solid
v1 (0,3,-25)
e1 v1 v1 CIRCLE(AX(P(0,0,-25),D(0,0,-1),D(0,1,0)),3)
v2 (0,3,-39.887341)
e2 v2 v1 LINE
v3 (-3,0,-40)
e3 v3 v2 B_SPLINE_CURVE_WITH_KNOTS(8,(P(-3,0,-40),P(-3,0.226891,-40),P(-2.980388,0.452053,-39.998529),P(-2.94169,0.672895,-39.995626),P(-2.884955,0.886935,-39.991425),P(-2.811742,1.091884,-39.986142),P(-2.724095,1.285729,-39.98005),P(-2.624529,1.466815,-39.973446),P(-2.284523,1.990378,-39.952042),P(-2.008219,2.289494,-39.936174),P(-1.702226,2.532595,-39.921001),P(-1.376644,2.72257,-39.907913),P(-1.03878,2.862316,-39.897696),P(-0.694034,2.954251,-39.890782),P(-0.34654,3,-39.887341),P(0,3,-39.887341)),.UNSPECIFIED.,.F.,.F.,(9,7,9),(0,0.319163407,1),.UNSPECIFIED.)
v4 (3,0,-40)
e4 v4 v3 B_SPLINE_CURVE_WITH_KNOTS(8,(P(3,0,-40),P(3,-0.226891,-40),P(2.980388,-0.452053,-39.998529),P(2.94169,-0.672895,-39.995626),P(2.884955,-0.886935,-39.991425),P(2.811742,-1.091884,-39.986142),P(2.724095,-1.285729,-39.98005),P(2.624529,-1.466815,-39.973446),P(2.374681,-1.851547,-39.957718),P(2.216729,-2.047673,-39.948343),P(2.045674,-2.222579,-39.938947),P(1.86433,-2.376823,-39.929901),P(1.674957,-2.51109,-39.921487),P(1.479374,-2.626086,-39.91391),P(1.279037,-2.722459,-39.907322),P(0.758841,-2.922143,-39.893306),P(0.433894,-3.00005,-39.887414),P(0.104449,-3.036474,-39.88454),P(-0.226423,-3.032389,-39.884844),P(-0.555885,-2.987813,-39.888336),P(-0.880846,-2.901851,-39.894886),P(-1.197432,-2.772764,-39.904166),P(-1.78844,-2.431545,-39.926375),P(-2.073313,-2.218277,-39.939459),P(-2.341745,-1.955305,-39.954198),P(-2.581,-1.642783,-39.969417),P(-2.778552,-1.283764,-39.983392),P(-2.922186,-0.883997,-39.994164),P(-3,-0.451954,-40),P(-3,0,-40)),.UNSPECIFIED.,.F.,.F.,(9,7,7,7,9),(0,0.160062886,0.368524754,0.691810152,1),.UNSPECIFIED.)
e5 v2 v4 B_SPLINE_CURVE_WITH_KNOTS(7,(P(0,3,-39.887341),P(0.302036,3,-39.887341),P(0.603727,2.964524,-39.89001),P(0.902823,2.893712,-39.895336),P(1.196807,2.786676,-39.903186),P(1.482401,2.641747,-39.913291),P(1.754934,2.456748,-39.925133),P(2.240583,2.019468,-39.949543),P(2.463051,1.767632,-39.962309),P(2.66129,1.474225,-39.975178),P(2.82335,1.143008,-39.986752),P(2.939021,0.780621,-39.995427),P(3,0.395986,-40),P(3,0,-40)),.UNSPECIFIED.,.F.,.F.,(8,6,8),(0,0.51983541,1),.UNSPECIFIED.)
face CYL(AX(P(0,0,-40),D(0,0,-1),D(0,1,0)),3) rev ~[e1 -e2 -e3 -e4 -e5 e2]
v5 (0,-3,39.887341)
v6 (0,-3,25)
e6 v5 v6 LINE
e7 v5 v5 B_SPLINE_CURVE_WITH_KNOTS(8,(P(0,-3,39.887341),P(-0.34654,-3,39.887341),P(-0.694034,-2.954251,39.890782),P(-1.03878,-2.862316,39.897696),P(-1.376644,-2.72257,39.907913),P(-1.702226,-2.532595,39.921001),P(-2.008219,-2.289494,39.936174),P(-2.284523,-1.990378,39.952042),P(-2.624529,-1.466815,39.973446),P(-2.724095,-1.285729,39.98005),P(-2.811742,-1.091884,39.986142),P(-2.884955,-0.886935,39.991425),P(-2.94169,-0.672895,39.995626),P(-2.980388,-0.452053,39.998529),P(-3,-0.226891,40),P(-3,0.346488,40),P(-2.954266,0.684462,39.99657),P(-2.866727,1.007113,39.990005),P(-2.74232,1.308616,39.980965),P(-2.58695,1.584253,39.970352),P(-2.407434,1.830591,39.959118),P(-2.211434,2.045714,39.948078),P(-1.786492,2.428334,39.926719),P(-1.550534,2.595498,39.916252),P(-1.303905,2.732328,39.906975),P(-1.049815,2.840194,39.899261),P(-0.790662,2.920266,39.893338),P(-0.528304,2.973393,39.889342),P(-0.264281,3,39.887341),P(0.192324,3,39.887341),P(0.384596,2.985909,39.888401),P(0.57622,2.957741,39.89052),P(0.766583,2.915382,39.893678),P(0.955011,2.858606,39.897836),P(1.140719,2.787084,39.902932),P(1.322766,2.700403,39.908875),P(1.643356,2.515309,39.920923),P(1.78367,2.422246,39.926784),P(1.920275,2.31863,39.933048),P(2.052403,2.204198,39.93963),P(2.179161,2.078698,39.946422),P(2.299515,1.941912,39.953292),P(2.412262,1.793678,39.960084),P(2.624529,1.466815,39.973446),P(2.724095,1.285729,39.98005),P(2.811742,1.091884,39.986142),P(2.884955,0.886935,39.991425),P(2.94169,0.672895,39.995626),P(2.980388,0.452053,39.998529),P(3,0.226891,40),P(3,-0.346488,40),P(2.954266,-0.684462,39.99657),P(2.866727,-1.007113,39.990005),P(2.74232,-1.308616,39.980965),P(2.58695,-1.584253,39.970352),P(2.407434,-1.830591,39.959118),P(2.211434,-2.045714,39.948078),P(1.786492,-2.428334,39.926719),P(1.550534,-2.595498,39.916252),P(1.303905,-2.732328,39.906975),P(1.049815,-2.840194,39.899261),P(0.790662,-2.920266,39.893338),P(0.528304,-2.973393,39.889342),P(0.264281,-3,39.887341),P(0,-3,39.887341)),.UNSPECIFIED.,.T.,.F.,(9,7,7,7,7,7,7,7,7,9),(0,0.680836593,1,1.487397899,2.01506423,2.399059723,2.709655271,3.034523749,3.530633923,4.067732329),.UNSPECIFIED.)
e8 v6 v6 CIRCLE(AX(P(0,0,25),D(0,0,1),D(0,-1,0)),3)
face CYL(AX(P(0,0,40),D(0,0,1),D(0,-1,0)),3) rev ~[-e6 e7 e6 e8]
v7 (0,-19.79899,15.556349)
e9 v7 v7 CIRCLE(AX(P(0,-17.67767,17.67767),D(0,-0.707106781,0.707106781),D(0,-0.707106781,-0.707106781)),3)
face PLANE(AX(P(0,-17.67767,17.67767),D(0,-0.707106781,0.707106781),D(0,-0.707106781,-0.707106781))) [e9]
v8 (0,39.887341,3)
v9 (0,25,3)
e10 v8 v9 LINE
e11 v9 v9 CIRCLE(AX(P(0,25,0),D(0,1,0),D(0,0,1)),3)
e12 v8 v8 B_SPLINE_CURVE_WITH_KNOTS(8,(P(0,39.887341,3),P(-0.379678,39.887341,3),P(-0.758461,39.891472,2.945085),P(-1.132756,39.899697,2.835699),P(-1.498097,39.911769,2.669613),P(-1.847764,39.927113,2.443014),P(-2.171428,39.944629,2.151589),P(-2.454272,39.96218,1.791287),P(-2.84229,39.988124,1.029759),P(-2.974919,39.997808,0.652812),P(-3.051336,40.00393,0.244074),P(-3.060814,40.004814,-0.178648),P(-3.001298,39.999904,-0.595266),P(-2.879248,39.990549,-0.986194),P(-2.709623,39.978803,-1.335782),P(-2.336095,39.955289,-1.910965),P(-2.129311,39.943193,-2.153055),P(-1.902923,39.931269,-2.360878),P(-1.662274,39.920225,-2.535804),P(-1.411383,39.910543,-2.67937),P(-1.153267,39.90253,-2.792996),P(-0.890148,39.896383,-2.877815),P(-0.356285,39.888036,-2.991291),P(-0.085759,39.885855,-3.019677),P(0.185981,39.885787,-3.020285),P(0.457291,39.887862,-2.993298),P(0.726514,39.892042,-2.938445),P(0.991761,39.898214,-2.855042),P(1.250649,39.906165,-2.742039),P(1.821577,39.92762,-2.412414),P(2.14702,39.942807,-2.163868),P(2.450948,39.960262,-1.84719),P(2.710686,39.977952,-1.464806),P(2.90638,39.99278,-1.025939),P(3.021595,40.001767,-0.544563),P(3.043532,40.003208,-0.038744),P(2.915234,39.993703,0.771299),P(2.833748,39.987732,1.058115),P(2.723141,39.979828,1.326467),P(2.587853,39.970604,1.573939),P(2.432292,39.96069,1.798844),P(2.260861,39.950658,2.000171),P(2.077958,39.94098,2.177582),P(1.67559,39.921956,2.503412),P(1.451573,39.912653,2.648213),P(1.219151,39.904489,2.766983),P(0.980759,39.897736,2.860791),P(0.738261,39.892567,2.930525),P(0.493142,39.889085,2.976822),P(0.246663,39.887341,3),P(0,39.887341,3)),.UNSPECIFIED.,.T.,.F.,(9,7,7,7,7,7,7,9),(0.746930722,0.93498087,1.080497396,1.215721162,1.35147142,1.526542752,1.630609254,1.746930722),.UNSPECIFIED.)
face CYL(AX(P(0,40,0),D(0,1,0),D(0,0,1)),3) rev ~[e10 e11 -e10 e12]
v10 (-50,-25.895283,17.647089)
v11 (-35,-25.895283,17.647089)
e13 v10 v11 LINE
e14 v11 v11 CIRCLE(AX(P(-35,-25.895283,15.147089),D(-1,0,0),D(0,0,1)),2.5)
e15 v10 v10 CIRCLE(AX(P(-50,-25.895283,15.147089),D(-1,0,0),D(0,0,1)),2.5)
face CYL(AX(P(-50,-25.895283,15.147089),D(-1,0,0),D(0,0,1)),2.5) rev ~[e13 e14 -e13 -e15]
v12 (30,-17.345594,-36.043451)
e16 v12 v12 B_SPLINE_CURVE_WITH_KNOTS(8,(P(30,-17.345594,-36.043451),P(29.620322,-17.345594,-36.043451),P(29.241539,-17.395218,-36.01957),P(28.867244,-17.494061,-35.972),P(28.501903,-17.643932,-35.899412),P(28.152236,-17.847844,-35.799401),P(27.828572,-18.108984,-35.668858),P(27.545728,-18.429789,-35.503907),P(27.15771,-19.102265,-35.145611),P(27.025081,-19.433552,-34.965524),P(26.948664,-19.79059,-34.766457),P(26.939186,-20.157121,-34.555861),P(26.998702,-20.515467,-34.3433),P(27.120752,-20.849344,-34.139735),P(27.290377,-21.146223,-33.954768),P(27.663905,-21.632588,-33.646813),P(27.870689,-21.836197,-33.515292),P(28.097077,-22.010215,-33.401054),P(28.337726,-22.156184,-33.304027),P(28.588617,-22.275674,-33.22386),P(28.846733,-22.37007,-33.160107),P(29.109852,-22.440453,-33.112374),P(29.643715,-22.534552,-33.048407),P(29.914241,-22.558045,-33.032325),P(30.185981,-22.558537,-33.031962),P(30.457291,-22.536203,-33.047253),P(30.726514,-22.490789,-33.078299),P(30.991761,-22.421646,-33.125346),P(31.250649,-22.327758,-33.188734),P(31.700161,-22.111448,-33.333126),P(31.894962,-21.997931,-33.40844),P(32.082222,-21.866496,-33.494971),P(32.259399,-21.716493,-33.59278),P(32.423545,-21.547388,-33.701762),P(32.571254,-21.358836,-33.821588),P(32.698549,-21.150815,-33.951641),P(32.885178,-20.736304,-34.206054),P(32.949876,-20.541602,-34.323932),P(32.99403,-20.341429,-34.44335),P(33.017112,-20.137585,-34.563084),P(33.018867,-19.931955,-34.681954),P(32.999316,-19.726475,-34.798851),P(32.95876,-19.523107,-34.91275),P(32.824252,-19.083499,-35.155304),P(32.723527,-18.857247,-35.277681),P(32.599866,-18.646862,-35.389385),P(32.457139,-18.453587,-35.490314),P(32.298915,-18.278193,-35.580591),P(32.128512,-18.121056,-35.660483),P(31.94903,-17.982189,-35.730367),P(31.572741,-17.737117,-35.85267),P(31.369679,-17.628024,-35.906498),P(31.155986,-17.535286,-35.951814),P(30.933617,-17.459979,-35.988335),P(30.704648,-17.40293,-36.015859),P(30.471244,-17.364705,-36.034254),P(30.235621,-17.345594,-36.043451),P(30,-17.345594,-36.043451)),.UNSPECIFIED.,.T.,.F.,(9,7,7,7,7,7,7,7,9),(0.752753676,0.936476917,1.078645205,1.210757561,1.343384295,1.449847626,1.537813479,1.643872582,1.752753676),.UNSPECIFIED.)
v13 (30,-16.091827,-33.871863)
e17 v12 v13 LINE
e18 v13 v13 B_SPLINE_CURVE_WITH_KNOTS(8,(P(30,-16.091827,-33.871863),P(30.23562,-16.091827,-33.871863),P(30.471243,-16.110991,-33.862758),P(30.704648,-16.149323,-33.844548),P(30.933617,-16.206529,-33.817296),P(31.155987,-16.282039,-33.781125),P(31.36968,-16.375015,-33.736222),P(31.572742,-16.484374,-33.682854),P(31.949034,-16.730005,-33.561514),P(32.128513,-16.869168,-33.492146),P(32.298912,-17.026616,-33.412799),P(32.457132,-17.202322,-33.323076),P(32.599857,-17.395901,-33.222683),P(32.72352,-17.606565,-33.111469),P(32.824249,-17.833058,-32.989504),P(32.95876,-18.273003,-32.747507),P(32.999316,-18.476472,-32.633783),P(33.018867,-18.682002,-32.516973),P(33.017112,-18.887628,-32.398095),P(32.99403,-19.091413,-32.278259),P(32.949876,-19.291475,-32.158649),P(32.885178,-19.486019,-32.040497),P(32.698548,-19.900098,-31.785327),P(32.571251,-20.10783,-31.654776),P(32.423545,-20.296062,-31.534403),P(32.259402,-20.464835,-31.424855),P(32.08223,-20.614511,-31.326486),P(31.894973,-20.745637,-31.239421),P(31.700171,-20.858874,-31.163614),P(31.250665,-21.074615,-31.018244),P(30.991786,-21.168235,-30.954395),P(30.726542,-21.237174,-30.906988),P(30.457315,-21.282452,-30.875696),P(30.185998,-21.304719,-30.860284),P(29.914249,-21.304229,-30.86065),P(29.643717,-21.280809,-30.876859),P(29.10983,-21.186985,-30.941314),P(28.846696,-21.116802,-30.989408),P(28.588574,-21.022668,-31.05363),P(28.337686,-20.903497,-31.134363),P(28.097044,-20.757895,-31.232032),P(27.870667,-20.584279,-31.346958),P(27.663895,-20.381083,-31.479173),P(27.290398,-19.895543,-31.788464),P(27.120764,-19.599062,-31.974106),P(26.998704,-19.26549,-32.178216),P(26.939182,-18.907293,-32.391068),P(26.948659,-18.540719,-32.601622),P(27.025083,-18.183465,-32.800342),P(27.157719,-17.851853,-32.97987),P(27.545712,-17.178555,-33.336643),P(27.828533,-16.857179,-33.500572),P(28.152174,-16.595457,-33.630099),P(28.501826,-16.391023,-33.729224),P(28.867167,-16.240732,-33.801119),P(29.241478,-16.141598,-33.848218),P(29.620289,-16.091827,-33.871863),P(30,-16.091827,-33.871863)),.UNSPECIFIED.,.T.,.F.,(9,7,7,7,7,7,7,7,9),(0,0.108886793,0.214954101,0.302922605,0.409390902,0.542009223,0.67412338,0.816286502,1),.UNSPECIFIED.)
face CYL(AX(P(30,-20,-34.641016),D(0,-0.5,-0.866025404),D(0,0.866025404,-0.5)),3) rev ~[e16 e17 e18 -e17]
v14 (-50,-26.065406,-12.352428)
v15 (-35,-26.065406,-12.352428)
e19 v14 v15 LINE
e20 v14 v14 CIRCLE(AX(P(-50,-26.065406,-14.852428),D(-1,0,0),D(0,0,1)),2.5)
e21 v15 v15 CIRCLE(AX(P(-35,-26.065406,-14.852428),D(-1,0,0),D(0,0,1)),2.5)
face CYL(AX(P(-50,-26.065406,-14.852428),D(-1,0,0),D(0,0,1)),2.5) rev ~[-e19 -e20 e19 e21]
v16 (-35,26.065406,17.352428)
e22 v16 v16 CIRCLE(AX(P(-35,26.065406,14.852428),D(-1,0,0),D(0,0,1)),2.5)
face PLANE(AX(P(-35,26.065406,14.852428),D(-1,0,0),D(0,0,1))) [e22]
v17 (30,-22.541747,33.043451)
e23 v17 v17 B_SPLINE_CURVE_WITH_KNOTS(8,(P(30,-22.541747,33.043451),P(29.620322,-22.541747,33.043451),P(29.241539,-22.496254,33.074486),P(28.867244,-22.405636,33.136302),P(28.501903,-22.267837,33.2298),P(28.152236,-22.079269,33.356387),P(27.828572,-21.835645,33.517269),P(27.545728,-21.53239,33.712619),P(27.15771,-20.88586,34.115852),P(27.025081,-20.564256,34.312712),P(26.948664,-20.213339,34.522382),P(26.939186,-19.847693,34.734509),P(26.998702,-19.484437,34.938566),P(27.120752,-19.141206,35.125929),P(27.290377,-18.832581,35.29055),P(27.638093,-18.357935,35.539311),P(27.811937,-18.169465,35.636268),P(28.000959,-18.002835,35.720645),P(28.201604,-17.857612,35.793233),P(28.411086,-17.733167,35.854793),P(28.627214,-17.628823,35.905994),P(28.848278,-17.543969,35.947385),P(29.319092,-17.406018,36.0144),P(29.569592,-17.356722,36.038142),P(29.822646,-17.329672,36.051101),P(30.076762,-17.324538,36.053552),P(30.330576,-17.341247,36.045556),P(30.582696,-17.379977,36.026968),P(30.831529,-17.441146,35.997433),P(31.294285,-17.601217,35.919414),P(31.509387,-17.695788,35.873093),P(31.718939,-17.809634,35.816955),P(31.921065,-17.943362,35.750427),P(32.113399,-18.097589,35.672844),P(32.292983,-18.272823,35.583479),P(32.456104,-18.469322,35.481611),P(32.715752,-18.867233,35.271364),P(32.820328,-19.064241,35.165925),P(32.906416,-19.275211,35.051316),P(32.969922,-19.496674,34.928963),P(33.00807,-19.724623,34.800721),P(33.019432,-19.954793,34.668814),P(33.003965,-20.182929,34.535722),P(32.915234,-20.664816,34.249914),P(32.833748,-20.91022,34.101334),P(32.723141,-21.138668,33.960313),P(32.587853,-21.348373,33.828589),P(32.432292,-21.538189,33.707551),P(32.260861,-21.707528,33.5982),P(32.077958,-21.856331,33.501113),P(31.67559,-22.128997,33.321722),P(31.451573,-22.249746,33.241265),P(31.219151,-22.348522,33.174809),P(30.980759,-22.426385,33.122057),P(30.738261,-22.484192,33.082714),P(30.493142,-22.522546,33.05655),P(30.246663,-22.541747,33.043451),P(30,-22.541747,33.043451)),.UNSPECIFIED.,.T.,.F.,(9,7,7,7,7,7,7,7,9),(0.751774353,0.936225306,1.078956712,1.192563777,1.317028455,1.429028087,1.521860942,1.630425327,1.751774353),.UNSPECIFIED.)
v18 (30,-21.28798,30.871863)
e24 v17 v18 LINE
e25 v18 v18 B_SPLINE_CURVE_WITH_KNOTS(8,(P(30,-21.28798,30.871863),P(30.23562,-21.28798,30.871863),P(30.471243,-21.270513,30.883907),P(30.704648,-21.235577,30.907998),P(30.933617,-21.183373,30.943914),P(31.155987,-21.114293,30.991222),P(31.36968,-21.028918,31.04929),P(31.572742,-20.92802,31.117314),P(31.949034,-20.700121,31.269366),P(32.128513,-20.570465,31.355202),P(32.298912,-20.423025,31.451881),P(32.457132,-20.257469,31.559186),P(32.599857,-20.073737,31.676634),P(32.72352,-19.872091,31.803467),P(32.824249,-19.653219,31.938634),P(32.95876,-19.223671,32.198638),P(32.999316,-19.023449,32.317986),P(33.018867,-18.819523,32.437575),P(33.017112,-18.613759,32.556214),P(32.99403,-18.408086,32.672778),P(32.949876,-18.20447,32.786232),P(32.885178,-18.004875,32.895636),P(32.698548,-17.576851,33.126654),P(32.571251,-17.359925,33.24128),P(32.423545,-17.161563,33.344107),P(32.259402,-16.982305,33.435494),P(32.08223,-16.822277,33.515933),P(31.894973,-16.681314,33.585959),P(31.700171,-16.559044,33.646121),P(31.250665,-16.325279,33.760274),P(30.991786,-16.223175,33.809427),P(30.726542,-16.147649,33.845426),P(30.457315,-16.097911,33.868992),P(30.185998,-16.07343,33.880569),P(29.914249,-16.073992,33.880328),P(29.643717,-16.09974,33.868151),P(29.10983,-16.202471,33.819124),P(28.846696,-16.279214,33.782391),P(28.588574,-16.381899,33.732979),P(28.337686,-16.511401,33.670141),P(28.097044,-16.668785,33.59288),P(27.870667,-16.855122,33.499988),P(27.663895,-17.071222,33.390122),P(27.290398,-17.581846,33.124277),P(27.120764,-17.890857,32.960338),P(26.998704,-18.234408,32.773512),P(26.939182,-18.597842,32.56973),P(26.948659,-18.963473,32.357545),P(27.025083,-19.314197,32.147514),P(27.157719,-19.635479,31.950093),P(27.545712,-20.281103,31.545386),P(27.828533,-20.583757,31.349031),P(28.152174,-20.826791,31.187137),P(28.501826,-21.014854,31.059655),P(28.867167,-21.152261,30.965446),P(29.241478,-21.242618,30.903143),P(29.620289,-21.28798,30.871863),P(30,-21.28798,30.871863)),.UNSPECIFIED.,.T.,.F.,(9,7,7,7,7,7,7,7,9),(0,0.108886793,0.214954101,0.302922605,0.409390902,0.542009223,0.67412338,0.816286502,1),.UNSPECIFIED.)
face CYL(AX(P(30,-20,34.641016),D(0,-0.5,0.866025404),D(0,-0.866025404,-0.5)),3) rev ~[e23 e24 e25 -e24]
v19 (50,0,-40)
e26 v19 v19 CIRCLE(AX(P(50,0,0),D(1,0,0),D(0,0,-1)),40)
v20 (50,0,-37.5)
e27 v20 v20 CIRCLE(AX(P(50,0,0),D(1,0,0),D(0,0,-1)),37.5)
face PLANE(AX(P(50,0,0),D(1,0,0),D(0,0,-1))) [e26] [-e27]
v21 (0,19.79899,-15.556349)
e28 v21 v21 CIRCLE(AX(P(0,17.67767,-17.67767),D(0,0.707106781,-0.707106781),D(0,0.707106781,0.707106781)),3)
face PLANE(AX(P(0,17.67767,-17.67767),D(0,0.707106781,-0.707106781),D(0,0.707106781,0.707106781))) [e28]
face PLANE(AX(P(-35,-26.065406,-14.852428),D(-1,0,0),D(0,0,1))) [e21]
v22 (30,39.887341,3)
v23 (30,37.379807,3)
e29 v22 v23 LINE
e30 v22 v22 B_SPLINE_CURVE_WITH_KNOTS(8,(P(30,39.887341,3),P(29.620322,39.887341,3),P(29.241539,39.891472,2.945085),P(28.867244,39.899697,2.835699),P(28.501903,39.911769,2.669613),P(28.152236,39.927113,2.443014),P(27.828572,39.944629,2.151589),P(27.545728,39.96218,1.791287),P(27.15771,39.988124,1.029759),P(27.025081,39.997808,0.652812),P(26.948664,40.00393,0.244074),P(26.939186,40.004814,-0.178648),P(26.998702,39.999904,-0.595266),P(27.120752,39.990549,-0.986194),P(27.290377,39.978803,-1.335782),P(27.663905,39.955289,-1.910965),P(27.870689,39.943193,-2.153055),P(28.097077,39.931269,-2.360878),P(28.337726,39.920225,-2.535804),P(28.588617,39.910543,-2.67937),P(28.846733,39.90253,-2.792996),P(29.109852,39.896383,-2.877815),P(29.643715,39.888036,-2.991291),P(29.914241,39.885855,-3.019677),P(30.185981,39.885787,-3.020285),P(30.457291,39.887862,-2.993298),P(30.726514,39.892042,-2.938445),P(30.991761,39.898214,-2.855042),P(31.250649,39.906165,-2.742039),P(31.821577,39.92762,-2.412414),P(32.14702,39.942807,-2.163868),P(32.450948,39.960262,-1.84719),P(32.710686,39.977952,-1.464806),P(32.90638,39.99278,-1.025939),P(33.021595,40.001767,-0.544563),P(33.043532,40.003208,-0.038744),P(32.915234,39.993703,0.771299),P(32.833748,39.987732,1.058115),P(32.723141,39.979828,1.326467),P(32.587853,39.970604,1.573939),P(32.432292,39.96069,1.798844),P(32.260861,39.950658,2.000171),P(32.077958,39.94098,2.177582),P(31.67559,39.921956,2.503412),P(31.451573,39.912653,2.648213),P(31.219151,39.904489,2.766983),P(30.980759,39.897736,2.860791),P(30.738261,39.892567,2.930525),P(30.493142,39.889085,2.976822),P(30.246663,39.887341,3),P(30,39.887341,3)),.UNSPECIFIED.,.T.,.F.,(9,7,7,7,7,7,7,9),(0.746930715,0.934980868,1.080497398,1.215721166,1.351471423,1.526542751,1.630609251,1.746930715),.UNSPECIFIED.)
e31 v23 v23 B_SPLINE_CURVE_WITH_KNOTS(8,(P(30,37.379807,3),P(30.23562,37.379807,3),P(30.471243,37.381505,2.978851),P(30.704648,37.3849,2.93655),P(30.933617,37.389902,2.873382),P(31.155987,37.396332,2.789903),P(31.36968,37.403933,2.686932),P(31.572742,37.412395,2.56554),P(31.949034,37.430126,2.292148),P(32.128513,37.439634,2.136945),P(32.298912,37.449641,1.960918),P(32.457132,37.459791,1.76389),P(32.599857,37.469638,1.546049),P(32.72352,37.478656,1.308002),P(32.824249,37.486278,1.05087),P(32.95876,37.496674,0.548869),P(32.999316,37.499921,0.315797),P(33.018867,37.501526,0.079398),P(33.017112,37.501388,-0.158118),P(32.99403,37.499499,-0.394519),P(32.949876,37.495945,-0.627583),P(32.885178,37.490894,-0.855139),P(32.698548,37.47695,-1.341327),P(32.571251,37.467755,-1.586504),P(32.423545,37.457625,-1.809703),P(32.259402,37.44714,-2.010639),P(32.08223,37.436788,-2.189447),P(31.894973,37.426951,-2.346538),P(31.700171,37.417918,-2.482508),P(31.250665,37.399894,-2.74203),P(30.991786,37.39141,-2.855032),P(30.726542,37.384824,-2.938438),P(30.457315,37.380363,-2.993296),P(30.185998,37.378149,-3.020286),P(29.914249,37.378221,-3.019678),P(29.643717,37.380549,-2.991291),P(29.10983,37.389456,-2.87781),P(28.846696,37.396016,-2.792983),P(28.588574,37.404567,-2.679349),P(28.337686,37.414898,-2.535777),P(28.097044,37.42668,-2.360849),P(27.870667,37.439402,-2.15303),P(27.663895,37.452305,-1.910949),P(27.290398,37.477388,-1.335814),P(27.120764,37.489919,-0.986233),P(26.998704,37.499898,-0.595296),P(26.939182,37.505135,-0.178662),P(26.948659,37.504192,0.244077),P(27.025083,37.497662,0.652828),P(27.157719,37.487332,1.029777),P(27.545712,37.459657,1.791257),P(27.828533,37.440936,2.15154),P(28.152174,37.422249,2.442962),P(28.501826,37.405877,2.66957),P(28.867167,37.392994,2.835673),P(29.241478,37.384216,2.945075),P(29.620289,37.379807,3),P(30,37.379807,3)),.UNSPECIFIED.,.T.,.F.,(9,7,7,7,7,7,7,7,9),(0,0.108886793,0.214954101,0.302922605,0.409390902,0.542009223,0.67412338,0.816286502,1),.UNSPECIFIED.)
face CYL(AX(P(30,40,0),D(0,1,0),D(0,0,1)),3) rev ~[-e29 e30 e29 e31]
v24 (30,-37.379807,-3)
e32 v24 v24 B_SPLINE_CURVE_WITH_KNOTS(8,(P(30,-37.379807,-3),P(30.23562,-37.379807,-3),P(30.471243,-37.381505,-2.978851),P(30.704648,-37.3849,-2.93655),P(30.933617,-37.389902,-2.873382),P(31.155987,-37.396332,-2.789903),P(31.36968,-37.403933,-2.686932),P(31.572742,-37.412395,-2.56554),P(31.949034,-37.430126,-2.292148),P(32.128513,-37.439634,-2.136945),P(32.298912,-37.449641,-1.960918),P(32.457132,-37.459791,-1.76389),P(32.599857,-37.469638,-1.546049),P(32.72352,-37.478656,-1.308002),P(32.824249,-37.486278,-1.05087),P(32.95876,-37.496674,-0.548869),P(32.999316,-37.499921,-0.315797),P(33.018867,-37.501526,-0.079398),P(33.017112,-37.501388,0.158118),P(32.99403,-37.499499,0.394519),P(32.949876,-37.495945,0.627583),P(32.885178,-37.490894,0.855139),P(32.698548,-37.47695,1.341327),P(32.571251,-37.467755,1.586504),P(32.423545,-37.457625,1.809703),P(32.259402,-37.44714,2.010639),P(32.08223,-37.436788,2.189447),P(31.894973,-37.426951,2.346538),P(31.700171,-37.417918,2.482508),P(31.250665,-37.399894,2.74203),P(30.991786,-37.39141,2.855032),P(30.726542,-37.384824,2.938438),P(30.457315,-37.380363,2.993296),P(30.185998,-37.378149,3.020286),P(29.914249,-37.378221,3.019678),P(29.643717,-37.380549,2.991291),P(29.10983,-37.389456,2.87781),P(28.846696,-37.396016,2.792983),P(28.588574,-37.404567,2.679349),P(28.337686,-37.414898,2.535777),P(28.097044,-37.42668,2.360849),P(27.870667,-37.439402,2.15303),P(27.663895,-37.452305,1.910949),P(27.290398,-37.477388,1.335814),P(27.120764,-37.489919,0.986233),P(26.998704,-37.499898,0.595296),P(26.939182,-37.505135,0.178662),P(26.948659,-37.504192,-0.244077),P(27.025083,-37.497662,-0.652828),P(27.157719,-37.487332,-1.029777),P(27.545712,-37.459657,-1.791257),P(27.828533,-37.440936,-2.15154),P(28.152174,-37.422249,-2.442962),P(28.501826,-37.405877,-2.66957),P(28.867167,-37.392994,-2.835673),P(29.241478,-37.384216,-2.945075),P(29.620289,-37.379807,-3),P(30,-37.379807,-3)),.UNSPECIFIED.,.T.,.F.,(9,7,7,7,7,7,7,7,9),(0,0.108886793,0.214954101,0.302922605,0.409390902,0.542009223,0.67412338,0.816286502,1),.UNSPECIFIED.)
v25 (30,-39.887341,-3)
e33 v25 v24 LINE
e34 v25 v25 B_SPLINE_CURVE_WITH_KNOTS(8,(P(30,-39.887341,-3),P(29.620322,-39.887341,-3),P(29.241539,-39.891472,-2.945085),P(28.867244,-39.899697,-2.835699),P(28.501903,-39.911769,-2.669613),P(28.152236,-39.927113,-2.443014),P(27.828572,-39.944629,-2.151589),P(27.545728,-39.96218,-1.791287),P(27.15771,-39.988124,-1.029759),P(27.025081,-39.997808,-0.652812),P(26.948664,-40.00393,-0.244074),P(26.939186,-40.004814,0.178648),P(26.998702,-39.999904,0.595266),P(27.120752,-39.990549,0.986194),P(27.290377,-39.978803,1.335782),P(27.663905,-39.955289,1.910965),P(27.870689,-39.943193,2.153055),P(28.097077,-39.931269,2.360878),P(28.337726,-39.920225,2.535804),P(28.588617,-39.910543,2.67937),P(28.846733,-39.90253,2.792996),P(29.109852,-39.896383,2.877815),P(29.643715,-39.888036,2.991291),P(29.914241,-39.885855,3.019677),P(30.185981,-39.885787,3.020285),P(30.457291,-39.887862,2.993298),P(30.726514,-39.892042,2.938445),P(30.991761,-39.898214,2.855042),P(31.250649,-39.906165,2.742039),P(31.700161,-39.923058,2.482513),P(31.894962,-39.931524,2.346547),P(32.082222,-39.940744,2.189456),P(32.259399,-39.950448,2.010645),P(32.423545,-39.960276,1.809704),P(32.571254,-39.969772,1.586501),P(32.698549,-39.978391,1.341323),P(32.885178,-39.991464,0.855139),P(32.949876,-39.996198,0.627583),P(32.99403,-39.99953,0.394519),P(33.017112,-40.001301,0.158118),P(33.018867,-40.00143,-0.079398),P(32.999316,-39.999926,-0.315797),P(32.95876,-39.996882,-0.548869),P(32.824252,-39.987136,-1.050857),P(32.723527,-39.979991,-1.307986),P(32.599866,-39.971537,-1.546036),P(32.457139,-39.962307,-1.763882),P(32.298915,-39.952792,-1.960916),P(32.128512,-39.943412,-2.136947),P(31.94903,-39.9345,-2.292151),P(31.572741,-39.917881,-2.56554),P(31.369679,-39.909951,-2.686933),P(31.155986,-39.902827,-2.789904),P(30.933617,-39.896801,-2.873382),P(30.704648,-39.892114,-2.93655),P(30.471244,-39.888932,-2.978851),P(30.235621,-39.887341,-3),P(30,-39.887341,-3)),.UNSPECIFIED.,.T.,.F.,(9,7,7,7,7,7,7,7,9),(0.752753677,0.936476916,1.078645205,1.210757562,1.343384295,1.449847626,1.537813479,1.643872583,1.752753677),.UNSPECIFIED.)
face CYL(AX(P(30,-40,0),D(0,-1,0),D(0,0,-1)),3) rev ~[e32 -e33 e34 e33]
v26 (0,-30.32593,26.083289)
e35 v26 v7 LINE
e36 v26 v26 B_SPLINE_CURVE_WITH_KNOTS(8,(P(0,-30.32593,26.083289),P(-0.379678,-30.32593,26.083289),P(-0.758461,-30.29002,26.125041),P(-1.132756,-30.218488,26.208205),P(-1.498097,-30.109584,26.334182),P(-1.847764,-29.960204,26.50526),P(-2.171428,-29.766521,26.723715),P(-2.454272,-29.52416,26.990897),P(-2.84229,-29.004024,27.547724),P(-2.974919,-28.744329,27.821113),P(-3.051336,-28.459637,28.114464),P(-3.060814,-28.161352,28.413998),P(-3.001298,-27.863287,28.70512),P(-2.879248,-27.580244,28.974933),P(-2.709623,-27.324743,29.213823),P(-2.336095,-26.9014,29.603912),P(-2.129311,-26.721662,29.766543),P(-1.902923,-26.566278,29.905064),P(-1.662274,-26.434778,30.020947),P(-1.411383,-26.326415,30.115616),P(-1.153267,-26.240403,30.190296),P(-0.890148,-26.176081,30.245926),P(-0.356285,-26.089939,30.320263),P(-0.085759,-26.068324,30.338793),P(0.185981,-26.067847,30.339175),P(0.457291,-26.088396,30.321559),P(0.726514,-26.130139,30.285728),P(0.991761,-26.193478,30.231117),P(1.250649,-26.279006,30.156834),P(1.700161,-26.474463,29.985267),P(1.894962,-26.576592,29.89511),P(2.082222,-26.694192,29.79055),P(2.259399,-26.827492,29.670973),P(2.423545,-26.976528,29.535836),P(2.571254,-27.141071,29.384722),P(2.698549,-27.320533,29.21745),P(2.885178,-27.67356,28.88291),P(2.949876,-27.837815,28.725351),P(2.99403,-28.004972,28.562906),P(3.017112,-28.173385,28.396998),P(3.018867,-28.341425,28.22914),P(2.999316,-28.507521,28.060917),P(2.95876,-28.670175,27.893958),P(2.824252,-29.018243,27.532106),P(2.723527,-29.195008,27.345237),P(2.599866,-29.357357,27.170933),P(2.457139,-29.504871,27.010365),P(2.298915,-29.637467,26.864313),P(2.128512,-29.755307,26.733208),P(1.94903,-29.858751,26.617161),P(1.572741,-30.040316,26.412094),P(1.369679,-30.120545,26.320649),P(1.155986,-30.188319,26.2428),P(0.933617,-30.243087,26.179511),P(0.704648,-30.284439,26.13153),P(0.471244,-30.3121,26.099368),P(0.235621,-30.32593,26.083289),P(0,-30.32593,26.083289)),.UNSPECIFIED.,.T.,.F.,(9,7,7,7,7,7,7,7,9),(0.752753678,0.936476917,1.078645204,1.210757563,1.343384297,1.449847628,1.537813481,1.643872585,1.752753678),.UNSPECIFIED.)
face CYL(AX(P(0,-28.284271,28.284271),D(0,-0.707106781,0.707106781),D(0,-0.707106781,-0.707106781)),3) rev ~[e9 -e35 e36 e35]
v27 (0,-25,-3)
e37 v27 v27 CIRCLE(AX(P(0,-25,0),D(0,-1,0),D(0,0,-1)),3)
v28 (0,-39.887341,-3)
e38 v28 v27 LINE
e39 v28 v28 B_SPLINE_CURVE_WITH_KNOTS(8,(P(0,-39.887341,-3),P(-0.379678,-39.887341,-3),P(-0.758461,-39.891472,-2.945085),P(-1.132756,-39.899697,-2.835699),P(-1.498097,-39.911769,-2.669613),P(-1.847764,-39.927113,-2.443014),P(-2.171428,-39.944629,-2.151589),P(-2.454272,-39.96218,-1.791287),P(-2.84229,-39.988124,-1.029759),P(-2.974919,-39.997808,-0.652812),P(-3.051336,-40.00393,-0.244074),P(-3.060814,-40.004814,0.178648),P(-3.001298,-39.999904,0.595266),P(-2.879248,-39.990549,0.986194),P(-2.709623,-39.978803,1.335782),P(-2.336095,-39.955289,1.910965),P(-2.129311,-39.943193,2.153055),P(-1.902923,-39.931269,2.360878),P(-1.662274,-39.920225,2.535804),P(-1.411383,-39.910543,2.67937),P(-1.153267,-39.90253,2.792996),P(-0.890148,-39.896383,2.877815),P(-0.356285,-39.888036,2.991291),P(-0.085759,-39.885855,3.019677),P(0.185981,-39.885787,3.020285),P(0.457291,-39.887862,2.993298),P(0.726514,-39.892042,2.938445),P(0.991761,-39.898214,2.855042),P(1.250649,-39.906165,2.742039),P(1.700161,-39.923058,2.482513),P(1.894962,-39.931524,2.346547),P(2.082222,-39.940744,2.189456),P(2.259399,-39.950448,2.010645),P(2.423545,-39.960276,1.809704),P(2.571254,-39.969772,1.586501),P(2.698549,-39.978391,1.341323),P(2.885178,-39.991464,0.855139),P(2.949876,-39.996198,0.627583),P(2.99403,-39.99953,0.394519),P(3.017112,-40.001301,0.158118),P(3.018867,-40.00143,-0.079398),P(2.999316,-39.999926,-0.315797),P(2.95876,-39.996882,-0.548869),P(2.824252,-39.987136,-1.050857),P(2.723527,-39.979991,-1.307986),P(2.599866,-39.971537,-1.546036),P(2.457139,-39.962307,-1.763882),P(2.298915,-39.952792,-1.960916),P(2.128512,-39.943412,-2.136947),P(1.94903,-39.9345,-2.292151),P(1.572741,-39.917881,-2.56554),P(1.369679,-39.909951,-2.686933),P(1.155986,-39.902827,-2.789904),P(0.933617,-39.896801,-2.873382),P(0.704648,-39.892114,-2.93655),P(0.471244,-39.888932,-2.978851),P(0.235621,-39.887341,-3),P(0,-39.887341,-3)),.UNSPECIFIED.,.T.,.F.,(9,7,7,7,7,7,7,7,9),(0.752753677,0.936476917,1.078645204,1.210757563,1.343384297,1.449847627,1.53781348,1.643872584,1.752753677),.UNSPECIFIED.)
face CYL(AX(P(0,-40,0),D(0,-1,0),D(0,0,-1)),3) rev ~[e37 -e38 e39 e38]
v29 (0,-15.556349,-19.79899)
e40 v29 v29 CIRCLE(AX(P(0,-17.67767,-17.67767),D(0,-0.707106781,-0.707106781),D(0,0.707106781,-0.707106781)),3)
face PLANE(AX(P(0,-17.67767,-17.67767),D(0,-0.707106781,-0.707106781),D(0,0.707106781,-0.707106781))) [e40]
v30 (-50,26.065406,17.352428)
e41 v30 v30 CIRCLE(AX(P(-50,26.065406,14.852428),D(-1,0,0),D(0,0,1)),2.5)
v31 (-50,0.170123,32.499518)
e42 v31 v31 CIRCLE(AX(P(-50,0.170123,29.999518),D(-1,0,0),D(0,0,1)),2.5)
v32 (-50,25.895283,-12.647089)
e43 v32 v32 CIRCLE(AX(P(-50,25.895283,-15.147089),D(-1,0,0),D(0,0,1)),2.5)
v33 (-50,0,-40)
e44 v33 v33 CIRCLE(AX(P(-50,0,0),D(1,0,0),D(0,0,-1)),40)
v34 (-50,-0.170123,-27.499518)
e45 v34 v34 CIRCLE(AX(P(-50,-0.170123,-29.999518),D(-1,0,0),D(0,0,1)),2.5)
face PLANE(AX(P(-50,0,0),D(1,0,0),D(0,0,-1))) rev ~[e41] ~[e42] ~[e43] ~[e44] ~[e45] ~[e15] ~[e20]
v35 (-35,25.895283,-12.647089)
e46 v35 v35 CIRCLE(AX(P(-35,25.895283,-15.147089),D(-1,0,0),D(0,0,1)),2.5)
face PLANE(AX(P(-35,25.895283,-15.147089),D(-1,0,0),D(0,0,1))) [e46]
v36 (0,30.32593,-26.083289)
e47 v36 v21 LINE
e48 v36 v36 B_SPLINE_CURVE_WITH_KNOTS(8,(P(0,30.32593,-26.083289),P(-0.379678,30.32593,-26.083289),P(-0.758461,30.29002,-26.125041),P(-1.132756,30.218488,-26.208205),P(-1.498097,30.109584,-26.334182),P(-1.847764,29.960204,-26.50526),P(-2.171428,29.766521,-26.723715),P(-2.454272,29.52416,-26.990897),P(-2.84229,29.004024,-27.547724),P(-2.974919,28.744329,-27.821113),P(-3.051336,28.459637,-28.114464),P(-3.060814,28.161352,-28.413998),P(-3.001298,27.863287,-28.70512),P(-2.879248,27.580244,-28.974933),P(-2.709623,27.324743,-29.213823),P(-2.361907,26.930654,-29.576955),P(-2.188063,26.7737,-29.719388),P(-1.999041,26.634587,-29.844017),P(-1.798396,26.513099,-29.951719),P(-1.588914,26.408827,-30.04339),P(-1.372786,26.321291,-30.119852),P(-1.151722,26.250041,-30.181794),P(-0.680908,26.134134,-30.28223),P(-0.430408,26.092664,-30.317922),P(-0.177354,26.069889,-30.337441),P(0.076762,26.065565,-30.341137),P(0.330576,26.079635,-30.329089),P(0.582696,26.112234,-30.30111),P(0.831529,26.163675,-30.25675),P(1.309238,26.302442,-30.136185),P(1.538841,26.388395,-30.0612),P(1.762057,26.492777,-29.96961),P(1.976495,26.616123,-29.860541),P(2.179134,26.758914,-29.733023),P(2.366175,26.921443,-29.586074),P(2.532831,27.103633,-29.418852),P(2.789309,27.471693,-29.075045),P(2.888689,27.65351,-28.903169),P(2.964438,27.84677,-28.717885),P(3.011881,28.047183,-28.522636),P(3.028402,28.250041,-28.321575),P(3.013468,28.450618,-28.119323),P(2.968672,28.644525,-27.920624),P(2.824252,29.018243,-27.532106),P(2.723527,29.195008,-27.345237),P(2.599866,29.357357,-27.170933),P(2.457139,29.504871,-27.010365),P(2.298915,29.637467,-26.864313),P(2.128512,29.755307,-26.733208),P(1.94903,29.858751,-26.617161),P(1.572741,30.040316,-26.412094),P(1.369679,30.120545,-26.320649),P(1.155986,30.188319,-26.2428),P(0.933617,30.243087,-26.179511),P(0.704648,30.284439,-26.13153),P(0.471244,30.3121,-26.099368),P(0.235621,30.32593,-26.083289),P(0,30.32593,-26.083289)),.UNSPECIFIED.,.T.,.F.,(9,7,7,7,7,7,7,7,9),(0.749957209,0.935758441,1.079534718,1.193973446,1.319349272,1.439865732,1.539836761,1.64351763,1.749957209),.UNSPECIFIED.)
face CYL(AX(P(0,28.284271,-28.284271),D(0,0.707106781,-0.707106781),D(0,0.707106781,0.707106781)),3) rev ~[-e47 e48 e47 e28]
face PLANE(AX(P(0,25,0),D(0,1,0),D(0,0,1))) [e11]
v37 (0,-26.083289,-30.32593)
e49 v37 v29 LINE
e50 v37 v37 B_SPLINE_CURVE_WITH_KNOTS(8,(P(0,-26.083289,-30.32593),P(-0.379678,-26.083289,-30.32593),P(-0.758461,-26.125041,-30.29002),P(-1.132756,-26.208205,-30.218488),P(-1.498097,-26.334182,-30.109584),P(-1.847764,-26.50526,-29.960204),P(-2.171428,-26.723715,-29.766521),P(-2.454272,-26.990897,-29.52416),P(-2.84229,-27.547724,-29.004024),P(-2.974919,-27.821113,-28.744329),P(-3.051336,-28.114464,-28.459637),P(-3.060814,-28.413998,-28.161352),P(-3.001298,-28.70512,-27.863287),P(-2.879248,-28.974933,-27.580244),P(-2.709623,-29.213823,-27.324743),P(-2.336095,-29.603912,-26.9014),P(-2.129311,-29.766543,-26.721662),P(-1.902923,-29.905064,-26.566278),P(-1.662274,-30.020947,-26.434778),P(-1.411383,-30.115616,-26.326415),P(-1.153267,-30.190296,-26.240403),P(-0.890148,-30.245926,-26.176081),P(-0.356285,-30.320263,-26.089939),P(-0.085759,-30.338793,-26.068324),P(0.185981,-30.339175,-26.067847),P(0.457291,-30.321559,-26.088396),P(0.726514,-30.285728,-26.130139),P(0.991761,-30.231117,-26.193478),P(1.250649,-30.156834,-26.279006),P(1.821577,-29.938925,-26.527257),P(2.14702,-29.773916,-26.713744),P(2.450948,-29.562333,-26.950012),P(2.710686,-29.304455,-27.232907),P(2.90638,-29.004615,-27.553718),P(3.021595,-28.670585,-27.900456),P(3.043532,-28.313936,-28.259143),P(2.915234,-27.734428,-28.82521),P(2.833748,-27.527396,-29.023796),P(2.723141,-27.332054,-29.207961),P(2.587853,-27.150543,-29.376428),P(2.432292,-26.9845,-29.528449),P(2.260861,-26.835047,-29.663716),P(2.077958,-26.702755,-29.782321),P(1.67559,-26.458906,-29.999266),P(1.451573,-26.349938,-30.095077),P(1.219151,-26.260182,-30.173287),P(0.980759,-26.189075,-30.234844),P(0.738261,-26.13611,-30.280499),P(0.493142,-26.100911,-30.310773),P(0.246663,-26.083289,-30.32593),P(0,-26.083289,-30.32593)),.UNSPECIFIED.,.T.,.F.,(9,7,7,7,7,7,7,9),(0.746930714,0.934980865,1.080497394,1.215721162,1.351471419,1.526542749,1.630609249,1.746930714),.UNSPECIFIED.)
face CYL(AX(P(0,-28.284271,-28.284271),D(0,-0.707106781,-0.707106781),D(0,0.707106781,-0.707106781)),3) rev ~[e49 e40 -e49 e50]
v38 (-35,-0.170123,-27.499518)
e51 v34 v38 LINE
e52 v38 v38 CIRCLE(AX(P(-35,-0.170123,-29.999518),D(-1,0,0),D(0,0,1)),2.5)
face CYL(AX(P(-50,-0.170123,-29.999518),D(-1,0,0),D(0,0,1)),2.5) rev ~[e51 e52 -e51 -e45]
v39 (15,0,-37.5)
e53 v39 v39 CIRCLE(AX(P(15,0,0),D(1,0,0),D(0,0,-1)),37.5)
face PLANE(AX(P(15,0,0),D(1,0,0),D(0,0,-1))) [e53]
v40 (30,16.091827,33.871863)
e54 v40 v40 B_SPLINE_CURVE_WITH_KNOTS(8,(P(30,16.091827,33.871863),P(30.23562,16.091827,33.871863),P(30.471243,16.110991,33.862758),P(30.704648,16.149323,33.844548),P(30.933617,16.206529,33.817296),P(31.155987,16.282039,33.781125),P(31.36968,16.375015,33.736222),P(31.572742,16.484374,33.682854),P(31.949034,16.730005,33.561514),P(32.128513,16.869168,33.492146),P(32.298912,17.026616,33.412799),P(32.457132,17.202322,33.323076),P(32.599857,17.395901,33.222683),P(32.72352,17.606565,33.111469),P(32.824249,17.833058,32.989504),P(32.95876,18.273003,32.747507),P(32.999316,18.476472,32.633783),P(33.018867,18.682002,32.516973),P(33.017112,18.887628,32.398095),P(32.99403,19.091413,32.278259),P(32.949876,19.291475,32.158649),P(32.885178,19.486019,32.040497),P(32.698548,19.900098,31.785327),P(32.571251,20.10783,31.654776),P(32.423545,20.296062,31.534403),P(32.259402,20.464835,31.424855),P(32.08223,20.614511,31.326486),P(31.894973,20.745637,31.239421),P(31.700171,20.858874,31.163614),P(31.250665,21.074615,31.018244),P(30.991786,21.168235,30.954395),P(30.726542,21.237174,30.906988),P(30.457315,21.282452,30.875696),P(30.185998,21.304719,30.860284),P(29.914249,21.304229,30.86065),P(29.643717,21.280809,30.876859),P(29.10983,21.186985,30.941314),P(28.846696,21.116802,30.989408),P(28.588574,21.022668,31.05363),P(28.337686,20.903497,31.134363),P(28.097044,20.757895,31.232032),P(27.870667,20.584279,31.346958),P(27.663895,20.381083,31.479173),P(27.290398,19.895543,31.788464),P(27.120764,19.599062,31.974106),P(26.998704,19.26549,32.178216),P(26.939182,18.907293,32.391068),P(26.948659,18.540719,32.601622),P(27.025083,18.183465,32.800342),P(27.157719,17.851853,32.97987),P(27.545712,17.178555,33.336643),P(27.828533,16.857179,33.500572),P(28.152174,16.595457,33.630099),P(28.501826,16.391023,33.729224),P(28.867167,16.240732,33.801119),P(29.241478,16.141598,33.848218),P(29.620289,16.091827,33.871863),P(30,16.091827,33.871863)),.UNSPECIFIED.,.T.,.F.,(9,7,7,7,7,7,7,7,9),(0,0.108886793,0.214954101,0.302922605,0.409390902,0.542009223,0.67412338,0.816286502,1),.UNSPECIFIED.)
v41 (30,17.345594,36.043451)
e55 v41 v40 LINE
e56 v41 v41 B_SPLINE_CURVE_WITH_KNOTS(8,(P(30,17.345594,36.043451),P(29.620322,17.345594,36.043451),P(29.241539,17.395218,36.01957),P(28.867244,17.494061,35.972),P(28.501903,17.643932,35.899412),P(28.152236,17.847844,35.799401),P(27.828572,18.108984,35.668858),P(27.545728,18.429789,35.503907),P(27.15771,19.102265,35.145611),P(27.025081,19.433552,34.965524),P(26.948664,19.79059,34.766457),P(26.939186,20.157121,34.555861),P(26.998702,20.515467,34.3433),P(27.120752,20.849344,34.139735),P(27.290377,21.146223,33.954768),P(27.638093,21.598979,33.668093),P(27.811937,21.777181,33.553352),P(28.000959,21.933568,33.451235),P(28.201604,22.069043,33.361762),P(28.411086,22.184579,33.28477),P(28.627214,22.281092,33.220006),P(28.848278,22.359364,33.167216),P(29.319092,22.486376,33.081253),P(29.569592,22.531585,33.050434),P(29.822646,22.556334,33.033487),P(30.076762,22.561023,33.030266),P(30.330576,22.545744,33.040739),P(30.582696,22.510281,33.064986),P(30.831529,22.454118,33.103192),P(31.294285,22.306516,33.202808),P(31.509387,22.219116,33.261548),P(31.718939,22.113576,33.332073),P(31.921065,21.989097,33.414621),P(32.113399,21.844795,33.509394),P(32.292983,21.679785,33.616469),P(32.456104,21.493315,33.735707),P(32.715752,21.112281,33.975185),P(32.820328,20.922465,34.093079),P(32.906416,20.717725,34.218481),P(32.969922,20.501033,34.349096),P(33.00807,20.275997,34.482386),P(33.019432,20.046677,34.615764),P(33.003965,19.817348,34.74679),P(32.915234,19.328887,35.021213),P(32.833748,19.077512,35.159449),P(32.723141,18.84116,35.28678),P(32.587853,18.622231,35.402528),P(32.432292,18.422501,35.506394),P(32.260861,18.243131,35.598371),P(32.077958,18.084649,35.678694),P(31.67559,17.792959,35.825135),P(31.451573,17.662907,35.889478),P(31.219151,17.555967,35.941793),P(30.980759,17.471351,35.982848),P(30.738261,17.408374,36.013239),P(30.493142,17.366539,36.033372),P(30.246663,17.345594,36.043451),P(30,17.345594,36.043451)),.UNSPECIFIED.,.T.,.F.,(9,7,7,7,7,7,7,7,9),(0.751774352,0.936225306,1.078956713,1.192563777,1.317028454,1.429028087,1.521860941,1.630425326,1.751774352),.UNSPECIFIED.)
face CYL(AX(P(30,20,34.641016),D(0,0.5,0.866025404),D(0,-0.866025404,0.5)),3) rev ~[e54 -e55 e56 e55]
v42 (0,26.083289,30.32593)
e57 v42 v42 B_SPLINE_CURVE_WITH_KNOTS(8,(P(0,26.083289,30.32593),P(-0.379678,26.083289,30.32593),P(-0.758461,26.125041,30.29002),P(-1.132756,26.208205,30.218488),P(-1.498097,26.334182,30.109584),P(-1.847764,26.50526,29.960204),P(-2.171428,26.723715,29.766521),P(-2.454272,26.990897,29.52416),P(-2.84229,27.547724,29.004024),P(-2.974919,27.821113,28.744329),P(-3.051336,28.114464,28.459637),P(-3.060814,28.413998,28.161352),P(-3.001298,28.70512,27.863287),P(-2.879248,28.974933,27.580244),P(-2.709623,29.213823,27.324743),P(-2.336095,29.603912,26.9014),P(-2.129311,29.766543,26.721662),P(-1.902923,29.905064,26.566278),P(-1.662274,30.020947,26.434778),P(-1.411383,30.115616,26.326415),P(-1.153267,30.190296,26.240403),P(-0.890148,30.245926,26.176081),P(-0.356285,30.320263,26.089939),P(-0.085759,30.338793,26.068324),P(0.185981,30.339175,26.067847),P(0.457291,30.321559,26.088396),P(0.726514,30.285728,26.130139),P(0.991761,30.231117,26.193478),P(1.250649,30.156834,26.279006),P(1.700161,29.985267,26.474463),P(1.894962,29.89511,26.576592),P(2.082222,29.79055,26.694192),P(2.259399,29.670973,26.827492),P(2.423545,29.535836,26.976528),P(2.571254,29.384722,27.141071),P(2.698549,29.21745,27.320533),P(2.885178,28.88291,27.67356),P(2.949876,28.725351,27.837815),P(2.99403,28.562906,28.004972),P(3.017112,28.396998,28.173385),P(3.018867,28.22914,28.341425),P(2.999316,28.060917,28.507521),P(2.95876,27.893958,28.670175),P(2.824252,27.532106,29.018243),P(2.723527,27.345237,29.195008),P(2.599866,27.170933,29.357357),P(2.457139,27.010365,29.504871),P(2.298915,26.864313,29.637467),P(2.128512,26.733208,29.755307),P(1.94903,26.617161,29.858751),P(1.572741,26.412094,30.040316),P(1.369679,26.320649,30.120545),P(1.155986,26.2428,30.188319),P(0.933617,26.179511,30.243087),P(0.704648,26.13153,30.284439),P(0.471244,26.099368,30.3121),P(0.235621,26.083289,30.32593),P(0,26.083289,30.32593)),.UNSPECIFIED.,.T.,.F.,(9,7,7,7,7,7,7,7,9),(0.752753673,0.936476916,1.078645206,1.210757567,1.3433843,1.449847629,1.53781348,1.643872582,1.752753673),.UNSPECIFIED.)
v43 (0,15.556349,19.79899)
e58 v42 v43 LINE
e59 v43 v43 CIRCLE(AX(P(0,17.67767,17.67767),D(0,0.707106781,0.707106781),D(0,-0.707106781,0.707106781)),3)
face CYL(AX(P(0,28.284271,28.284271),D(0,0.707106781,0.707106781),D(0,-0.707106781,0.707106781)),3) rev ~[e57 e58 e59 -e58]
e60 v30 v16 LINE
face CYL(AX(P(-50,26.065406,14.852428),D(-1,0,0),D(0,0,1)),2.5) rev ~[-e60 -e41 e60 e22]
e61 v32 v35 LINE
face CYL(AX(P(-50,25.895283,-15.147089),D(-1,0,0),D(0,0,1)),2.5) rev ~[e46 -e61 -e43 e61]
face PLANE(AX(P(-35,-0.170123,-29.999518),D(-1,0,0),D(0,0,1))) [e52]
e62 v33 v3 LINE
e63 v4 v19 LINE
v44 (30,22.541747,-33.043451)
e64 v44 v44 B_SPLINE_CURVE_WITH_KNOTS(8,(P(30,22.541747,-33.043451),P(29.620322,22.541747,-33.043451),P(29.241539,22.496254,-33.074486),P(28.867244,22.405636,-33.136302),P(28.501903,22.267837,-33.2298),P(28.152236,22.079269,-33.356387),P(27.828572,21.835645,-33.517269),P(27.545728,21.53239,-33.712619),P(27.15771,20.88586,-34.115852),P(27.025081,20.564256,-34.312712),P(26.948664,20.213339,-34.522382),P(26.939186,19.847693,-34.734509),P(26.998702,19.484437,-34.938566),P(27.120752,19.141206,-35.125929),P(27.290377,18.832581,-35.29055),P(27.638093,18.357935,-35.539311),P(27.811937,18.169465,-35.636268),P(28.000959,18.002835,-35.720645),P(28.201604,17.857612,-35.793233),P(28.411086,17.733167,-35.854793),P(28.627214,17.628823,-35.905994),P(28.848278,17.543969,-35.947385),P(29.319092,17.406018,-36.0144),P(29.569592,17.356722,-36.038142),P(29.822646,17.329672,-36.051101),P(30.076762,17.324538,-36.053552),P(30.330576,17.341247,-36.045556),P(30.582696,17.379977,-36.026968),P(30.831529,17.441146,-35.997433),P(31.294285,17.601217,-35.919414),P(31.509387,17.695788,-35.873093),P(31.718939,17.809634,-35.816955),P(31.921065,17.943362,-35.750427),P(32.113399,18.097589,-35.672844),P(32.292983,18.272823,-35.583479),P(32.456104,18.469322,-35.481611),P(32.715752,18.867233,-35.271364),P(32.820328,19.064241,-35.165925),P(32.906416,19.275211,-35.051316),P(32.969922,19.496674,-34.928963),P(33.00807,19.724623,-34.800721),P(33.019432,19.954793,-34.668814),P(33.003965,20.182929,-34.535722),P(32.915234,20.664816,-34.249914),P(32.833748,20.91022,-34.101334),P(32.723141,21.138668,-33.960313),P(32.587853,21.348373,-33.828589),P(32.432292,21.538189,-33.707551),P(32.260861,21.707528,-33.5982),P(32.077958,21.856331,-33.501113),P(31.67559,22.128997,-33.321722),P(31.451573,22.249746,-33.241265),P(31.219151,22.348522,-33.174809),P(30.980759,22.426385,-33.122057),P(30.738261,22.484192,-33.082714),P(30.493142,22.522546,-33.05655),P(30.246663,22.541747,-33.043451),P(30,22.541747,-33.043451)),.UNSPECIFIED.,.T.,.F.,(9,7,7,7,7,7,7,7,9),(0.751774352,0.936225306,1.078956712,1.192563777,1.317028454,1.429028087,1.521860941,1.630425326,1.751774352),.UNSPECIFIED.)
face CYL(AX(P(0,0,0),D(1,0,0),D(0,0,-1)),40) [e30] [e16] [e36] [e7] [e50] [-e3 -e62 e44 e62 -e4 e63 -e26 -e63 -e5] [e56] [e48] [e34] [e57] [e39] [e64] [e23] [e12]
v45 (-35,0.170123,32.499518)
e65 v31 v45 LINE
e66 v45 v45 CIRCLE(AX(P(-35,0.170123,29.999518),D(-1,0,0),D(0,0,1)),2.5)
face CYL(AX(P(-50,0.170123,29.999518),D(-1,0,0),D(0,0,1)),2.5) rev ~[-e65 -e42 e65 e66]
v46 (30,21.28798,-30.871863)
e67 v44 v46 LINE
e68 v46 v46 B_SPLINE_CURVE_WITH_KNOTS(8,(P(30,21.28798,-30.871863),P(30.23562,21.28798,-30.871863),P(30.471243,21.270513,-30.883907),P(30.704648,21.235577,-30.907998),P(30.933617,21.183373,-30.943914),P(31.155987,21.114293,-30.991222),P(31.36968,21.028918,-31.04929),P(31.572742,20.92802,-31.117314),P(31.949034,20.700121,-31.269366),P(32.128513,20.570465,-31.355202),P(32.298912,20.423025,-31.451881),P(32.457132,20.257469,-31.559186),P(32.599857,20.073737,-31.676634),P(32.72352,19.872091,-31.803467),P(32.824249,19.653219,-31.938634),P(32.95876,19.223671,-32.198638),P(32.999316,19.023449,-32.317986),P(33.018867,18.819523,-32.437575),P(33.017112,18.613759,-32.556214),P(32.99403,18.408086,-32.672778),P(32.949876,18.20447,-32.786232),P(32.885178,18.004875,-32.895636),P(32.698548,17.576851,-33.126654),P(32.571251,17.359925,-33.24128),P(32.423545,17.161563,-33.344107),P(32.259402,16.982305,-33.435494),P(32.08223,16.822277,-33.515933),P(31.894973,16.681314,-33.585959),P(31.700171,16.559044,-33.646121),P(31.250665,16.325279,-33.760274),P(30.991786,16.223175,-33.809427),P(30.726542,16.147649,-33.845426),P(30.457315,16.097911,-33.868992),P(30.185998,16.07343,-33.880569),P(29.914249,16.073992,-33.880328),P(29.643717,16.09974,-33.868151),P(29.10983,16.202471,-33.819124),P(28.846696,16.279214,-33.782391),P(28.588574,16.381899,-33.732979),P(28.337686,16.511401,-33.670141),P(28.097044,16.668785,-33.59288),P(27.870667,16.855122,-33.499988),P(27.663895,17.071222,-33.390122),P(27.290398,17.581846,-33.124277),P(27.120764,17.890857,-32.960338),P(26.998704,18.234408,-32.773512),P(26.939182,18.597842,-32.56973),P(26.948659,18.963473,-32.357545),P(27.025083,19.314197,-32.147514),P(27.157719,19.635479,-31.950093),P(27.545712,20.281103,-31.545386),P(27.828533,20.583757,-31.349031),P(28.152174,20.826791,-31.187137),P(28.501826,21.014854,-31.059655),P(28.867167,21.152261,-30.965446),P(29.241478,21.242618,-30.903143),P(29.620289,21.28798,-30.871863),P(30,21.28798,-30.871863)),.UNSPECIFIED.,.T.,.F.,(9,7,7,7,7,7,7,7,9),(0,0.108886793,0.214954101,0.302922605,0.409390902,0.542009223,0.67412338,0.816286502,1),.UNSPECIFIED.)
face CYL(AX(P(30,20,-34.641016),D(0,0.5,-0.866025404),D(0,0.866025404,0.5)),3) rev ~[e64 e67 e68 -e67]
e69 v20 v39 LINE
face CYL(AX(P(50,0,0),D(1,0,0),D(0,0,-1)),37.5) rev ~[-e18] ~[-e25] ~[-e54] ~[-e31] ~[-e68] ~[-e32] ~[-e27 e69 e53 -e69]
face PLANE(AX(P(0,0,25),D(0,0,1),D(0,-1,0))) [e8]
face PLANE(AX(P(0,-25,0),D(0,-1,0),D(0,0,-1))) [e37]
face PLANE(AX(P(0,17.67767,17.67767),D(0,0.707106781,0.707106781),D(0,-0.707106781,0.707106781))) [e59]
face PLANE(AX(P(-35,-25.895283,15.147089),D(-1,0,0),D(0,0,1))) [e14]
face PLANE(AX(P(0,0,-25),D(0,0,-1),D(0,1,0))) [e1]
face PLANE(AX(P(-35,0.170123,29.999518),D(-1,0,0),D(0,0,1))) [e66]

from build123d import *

# Parameters (mm, degrees)
SKETCH1_R               = 40
BOSS_EXTRUDE1_DEPTH     = 50
SKETCH4_R               = 3
CUT_EXTRUDE2_DEPTH      = 15
CIRPATTERN1_COUNT       = 8
SKETCH5_R               = 2.5
CUT_EXTRUDE5_DEPTH      = 15
SKETCH6_R               = 37.5
CUT_EXTRUDE6_DEPTH      = 35
CUT_EXTRUDE9_REACH      = 104.47
CUT_EXTRUDE9_END_RADIUS = 37.5
SKETCH7_R               = 3
CIRPATTERN3_COUNT       = 6


with BuildPart() as part:
    # Sketch1 → Boss-Extrude1 (new, symmetric)
    with BuildSketch(Plane(origin=(0, 0, 0), x_dir=(0, 0, -1), z_dir=(1, 0, 0))):
        Circle(SKETCH1_R)
    extrude(amount=BOSS_EXTRUDE1_DEPTH, both=True)

    # Sketch4 → Cut-Extrude2 (cut)
    with BuildSketch(Plane(origin=(0, 40, 0), x_dir=(1, 0, 0), z_dir=(0, 1, 0))):
        with Locations(Location((0, 0, 0), (0, 0, 270))):
            Circle(SKETCH4_R)
    cut_extrude2 = extrude(amount=-CUT_EXTRUDE2_DEPTH, mode=Mode.SUBTRACT)

    # CirPattern1: Cut-Extrude2 ×8 about axis
    cirpattern1_axis = Axis((0, 0, 0), (1, 0, 0))
    for i in range(1, CIRPATTERN1_COUNT):
        add(cut_extrude2.rotate(cirpattern1_axis, i * 360 / CIRPATTERN1_COUNT), mode=Mode.SUBTRACT)

    # Sketch5 → Cut-Extrude5 (cut)
    with BuildSketch(Plane.ZY.offset(50)):
        with Locations((14.852428205, 26.06540574)):
            Circle(SKETCH5_R)
        with Locations((29.999517634, 0.170122737)):
            Circle(SKETCH5_R)
        with Locations((15.147089429, -25.895283004)):
            Circle(SKETCH5_R)
        with Locations((-14.852428205, -26.06540574)):
            Circle(SKETCH5_R)
        with Locations((-29.999517634, -0.170122737)):
            Circle(SKETCH5_R)
        with Locations((-15.147089429, 25.895283004)):
            Circle(SKETCH5_R)
    extrude(amount=-CUT_EXTRUDE5_DEPTH, mode=Mode.SUBTRACT)

    # Sketch6 → Cut-Extrude6 (cut)
    with BuildSketch(Plane(origin=(50, 0, 0), x_dir=(0, 0, -1), z_dir=(1, 0, 0))):
        Circle(SKETCH6_R)
    extrude(amount=-CUT_EXTRUDE6_DEPTH, mode=Mode.SUBTRACT)

    # Cut-Extrude9: up to this cylinder (the profile starts outside it)
    cut_extrude9_end = Plane(origin=(30, 0, 0), z_dir=(1, 0, 0)) * Cylinder(CUT_EXTRUDE9_END_RADIUS, 284.94, mode=Mode.PRIVATE)
    # Sketch7 → Cut-Extrude9 (cut, up to the surface)
    with BuildSketch(Plane(origin=(0, 40, 0), x_dir=(1, 0, 0), z_dir=(0, 1, 0)), mode=Mode.PRIVATE) as cut_extrude9_sk1:
        with Locations(Location((30, 0, 0), (0, 0, 270))):
            Circle(SKETCH7_R)
    cut_extrude9_tool1 = extrude(cut_extrude9_sk1.sketch, amount=-CUT_EXTRUDE9_REACH, mode=Mode.PRIVATE) - cut_extrude9_end
    cut_extrude9 = cut_extrude9_tool1.solids().sort_by_distance((30, 40, 0))[0]
    add(cut_extrude9, mode=Mode.SUBTRACT)

    # CirPattern3: Cut-Extrude9 ×6 about axis
    cirpattern3_axis = Axis((50, 0, 0), (-1, 0, 0))
    for i in range(1, CIRPATTERN3_COUNT):
        add(cut_extrude9.rotate(cirpattern3_axis, i * 360 / CIRPATTERN3_COUNT), mode=Mode.SUBTRACT)


solid = part.part
